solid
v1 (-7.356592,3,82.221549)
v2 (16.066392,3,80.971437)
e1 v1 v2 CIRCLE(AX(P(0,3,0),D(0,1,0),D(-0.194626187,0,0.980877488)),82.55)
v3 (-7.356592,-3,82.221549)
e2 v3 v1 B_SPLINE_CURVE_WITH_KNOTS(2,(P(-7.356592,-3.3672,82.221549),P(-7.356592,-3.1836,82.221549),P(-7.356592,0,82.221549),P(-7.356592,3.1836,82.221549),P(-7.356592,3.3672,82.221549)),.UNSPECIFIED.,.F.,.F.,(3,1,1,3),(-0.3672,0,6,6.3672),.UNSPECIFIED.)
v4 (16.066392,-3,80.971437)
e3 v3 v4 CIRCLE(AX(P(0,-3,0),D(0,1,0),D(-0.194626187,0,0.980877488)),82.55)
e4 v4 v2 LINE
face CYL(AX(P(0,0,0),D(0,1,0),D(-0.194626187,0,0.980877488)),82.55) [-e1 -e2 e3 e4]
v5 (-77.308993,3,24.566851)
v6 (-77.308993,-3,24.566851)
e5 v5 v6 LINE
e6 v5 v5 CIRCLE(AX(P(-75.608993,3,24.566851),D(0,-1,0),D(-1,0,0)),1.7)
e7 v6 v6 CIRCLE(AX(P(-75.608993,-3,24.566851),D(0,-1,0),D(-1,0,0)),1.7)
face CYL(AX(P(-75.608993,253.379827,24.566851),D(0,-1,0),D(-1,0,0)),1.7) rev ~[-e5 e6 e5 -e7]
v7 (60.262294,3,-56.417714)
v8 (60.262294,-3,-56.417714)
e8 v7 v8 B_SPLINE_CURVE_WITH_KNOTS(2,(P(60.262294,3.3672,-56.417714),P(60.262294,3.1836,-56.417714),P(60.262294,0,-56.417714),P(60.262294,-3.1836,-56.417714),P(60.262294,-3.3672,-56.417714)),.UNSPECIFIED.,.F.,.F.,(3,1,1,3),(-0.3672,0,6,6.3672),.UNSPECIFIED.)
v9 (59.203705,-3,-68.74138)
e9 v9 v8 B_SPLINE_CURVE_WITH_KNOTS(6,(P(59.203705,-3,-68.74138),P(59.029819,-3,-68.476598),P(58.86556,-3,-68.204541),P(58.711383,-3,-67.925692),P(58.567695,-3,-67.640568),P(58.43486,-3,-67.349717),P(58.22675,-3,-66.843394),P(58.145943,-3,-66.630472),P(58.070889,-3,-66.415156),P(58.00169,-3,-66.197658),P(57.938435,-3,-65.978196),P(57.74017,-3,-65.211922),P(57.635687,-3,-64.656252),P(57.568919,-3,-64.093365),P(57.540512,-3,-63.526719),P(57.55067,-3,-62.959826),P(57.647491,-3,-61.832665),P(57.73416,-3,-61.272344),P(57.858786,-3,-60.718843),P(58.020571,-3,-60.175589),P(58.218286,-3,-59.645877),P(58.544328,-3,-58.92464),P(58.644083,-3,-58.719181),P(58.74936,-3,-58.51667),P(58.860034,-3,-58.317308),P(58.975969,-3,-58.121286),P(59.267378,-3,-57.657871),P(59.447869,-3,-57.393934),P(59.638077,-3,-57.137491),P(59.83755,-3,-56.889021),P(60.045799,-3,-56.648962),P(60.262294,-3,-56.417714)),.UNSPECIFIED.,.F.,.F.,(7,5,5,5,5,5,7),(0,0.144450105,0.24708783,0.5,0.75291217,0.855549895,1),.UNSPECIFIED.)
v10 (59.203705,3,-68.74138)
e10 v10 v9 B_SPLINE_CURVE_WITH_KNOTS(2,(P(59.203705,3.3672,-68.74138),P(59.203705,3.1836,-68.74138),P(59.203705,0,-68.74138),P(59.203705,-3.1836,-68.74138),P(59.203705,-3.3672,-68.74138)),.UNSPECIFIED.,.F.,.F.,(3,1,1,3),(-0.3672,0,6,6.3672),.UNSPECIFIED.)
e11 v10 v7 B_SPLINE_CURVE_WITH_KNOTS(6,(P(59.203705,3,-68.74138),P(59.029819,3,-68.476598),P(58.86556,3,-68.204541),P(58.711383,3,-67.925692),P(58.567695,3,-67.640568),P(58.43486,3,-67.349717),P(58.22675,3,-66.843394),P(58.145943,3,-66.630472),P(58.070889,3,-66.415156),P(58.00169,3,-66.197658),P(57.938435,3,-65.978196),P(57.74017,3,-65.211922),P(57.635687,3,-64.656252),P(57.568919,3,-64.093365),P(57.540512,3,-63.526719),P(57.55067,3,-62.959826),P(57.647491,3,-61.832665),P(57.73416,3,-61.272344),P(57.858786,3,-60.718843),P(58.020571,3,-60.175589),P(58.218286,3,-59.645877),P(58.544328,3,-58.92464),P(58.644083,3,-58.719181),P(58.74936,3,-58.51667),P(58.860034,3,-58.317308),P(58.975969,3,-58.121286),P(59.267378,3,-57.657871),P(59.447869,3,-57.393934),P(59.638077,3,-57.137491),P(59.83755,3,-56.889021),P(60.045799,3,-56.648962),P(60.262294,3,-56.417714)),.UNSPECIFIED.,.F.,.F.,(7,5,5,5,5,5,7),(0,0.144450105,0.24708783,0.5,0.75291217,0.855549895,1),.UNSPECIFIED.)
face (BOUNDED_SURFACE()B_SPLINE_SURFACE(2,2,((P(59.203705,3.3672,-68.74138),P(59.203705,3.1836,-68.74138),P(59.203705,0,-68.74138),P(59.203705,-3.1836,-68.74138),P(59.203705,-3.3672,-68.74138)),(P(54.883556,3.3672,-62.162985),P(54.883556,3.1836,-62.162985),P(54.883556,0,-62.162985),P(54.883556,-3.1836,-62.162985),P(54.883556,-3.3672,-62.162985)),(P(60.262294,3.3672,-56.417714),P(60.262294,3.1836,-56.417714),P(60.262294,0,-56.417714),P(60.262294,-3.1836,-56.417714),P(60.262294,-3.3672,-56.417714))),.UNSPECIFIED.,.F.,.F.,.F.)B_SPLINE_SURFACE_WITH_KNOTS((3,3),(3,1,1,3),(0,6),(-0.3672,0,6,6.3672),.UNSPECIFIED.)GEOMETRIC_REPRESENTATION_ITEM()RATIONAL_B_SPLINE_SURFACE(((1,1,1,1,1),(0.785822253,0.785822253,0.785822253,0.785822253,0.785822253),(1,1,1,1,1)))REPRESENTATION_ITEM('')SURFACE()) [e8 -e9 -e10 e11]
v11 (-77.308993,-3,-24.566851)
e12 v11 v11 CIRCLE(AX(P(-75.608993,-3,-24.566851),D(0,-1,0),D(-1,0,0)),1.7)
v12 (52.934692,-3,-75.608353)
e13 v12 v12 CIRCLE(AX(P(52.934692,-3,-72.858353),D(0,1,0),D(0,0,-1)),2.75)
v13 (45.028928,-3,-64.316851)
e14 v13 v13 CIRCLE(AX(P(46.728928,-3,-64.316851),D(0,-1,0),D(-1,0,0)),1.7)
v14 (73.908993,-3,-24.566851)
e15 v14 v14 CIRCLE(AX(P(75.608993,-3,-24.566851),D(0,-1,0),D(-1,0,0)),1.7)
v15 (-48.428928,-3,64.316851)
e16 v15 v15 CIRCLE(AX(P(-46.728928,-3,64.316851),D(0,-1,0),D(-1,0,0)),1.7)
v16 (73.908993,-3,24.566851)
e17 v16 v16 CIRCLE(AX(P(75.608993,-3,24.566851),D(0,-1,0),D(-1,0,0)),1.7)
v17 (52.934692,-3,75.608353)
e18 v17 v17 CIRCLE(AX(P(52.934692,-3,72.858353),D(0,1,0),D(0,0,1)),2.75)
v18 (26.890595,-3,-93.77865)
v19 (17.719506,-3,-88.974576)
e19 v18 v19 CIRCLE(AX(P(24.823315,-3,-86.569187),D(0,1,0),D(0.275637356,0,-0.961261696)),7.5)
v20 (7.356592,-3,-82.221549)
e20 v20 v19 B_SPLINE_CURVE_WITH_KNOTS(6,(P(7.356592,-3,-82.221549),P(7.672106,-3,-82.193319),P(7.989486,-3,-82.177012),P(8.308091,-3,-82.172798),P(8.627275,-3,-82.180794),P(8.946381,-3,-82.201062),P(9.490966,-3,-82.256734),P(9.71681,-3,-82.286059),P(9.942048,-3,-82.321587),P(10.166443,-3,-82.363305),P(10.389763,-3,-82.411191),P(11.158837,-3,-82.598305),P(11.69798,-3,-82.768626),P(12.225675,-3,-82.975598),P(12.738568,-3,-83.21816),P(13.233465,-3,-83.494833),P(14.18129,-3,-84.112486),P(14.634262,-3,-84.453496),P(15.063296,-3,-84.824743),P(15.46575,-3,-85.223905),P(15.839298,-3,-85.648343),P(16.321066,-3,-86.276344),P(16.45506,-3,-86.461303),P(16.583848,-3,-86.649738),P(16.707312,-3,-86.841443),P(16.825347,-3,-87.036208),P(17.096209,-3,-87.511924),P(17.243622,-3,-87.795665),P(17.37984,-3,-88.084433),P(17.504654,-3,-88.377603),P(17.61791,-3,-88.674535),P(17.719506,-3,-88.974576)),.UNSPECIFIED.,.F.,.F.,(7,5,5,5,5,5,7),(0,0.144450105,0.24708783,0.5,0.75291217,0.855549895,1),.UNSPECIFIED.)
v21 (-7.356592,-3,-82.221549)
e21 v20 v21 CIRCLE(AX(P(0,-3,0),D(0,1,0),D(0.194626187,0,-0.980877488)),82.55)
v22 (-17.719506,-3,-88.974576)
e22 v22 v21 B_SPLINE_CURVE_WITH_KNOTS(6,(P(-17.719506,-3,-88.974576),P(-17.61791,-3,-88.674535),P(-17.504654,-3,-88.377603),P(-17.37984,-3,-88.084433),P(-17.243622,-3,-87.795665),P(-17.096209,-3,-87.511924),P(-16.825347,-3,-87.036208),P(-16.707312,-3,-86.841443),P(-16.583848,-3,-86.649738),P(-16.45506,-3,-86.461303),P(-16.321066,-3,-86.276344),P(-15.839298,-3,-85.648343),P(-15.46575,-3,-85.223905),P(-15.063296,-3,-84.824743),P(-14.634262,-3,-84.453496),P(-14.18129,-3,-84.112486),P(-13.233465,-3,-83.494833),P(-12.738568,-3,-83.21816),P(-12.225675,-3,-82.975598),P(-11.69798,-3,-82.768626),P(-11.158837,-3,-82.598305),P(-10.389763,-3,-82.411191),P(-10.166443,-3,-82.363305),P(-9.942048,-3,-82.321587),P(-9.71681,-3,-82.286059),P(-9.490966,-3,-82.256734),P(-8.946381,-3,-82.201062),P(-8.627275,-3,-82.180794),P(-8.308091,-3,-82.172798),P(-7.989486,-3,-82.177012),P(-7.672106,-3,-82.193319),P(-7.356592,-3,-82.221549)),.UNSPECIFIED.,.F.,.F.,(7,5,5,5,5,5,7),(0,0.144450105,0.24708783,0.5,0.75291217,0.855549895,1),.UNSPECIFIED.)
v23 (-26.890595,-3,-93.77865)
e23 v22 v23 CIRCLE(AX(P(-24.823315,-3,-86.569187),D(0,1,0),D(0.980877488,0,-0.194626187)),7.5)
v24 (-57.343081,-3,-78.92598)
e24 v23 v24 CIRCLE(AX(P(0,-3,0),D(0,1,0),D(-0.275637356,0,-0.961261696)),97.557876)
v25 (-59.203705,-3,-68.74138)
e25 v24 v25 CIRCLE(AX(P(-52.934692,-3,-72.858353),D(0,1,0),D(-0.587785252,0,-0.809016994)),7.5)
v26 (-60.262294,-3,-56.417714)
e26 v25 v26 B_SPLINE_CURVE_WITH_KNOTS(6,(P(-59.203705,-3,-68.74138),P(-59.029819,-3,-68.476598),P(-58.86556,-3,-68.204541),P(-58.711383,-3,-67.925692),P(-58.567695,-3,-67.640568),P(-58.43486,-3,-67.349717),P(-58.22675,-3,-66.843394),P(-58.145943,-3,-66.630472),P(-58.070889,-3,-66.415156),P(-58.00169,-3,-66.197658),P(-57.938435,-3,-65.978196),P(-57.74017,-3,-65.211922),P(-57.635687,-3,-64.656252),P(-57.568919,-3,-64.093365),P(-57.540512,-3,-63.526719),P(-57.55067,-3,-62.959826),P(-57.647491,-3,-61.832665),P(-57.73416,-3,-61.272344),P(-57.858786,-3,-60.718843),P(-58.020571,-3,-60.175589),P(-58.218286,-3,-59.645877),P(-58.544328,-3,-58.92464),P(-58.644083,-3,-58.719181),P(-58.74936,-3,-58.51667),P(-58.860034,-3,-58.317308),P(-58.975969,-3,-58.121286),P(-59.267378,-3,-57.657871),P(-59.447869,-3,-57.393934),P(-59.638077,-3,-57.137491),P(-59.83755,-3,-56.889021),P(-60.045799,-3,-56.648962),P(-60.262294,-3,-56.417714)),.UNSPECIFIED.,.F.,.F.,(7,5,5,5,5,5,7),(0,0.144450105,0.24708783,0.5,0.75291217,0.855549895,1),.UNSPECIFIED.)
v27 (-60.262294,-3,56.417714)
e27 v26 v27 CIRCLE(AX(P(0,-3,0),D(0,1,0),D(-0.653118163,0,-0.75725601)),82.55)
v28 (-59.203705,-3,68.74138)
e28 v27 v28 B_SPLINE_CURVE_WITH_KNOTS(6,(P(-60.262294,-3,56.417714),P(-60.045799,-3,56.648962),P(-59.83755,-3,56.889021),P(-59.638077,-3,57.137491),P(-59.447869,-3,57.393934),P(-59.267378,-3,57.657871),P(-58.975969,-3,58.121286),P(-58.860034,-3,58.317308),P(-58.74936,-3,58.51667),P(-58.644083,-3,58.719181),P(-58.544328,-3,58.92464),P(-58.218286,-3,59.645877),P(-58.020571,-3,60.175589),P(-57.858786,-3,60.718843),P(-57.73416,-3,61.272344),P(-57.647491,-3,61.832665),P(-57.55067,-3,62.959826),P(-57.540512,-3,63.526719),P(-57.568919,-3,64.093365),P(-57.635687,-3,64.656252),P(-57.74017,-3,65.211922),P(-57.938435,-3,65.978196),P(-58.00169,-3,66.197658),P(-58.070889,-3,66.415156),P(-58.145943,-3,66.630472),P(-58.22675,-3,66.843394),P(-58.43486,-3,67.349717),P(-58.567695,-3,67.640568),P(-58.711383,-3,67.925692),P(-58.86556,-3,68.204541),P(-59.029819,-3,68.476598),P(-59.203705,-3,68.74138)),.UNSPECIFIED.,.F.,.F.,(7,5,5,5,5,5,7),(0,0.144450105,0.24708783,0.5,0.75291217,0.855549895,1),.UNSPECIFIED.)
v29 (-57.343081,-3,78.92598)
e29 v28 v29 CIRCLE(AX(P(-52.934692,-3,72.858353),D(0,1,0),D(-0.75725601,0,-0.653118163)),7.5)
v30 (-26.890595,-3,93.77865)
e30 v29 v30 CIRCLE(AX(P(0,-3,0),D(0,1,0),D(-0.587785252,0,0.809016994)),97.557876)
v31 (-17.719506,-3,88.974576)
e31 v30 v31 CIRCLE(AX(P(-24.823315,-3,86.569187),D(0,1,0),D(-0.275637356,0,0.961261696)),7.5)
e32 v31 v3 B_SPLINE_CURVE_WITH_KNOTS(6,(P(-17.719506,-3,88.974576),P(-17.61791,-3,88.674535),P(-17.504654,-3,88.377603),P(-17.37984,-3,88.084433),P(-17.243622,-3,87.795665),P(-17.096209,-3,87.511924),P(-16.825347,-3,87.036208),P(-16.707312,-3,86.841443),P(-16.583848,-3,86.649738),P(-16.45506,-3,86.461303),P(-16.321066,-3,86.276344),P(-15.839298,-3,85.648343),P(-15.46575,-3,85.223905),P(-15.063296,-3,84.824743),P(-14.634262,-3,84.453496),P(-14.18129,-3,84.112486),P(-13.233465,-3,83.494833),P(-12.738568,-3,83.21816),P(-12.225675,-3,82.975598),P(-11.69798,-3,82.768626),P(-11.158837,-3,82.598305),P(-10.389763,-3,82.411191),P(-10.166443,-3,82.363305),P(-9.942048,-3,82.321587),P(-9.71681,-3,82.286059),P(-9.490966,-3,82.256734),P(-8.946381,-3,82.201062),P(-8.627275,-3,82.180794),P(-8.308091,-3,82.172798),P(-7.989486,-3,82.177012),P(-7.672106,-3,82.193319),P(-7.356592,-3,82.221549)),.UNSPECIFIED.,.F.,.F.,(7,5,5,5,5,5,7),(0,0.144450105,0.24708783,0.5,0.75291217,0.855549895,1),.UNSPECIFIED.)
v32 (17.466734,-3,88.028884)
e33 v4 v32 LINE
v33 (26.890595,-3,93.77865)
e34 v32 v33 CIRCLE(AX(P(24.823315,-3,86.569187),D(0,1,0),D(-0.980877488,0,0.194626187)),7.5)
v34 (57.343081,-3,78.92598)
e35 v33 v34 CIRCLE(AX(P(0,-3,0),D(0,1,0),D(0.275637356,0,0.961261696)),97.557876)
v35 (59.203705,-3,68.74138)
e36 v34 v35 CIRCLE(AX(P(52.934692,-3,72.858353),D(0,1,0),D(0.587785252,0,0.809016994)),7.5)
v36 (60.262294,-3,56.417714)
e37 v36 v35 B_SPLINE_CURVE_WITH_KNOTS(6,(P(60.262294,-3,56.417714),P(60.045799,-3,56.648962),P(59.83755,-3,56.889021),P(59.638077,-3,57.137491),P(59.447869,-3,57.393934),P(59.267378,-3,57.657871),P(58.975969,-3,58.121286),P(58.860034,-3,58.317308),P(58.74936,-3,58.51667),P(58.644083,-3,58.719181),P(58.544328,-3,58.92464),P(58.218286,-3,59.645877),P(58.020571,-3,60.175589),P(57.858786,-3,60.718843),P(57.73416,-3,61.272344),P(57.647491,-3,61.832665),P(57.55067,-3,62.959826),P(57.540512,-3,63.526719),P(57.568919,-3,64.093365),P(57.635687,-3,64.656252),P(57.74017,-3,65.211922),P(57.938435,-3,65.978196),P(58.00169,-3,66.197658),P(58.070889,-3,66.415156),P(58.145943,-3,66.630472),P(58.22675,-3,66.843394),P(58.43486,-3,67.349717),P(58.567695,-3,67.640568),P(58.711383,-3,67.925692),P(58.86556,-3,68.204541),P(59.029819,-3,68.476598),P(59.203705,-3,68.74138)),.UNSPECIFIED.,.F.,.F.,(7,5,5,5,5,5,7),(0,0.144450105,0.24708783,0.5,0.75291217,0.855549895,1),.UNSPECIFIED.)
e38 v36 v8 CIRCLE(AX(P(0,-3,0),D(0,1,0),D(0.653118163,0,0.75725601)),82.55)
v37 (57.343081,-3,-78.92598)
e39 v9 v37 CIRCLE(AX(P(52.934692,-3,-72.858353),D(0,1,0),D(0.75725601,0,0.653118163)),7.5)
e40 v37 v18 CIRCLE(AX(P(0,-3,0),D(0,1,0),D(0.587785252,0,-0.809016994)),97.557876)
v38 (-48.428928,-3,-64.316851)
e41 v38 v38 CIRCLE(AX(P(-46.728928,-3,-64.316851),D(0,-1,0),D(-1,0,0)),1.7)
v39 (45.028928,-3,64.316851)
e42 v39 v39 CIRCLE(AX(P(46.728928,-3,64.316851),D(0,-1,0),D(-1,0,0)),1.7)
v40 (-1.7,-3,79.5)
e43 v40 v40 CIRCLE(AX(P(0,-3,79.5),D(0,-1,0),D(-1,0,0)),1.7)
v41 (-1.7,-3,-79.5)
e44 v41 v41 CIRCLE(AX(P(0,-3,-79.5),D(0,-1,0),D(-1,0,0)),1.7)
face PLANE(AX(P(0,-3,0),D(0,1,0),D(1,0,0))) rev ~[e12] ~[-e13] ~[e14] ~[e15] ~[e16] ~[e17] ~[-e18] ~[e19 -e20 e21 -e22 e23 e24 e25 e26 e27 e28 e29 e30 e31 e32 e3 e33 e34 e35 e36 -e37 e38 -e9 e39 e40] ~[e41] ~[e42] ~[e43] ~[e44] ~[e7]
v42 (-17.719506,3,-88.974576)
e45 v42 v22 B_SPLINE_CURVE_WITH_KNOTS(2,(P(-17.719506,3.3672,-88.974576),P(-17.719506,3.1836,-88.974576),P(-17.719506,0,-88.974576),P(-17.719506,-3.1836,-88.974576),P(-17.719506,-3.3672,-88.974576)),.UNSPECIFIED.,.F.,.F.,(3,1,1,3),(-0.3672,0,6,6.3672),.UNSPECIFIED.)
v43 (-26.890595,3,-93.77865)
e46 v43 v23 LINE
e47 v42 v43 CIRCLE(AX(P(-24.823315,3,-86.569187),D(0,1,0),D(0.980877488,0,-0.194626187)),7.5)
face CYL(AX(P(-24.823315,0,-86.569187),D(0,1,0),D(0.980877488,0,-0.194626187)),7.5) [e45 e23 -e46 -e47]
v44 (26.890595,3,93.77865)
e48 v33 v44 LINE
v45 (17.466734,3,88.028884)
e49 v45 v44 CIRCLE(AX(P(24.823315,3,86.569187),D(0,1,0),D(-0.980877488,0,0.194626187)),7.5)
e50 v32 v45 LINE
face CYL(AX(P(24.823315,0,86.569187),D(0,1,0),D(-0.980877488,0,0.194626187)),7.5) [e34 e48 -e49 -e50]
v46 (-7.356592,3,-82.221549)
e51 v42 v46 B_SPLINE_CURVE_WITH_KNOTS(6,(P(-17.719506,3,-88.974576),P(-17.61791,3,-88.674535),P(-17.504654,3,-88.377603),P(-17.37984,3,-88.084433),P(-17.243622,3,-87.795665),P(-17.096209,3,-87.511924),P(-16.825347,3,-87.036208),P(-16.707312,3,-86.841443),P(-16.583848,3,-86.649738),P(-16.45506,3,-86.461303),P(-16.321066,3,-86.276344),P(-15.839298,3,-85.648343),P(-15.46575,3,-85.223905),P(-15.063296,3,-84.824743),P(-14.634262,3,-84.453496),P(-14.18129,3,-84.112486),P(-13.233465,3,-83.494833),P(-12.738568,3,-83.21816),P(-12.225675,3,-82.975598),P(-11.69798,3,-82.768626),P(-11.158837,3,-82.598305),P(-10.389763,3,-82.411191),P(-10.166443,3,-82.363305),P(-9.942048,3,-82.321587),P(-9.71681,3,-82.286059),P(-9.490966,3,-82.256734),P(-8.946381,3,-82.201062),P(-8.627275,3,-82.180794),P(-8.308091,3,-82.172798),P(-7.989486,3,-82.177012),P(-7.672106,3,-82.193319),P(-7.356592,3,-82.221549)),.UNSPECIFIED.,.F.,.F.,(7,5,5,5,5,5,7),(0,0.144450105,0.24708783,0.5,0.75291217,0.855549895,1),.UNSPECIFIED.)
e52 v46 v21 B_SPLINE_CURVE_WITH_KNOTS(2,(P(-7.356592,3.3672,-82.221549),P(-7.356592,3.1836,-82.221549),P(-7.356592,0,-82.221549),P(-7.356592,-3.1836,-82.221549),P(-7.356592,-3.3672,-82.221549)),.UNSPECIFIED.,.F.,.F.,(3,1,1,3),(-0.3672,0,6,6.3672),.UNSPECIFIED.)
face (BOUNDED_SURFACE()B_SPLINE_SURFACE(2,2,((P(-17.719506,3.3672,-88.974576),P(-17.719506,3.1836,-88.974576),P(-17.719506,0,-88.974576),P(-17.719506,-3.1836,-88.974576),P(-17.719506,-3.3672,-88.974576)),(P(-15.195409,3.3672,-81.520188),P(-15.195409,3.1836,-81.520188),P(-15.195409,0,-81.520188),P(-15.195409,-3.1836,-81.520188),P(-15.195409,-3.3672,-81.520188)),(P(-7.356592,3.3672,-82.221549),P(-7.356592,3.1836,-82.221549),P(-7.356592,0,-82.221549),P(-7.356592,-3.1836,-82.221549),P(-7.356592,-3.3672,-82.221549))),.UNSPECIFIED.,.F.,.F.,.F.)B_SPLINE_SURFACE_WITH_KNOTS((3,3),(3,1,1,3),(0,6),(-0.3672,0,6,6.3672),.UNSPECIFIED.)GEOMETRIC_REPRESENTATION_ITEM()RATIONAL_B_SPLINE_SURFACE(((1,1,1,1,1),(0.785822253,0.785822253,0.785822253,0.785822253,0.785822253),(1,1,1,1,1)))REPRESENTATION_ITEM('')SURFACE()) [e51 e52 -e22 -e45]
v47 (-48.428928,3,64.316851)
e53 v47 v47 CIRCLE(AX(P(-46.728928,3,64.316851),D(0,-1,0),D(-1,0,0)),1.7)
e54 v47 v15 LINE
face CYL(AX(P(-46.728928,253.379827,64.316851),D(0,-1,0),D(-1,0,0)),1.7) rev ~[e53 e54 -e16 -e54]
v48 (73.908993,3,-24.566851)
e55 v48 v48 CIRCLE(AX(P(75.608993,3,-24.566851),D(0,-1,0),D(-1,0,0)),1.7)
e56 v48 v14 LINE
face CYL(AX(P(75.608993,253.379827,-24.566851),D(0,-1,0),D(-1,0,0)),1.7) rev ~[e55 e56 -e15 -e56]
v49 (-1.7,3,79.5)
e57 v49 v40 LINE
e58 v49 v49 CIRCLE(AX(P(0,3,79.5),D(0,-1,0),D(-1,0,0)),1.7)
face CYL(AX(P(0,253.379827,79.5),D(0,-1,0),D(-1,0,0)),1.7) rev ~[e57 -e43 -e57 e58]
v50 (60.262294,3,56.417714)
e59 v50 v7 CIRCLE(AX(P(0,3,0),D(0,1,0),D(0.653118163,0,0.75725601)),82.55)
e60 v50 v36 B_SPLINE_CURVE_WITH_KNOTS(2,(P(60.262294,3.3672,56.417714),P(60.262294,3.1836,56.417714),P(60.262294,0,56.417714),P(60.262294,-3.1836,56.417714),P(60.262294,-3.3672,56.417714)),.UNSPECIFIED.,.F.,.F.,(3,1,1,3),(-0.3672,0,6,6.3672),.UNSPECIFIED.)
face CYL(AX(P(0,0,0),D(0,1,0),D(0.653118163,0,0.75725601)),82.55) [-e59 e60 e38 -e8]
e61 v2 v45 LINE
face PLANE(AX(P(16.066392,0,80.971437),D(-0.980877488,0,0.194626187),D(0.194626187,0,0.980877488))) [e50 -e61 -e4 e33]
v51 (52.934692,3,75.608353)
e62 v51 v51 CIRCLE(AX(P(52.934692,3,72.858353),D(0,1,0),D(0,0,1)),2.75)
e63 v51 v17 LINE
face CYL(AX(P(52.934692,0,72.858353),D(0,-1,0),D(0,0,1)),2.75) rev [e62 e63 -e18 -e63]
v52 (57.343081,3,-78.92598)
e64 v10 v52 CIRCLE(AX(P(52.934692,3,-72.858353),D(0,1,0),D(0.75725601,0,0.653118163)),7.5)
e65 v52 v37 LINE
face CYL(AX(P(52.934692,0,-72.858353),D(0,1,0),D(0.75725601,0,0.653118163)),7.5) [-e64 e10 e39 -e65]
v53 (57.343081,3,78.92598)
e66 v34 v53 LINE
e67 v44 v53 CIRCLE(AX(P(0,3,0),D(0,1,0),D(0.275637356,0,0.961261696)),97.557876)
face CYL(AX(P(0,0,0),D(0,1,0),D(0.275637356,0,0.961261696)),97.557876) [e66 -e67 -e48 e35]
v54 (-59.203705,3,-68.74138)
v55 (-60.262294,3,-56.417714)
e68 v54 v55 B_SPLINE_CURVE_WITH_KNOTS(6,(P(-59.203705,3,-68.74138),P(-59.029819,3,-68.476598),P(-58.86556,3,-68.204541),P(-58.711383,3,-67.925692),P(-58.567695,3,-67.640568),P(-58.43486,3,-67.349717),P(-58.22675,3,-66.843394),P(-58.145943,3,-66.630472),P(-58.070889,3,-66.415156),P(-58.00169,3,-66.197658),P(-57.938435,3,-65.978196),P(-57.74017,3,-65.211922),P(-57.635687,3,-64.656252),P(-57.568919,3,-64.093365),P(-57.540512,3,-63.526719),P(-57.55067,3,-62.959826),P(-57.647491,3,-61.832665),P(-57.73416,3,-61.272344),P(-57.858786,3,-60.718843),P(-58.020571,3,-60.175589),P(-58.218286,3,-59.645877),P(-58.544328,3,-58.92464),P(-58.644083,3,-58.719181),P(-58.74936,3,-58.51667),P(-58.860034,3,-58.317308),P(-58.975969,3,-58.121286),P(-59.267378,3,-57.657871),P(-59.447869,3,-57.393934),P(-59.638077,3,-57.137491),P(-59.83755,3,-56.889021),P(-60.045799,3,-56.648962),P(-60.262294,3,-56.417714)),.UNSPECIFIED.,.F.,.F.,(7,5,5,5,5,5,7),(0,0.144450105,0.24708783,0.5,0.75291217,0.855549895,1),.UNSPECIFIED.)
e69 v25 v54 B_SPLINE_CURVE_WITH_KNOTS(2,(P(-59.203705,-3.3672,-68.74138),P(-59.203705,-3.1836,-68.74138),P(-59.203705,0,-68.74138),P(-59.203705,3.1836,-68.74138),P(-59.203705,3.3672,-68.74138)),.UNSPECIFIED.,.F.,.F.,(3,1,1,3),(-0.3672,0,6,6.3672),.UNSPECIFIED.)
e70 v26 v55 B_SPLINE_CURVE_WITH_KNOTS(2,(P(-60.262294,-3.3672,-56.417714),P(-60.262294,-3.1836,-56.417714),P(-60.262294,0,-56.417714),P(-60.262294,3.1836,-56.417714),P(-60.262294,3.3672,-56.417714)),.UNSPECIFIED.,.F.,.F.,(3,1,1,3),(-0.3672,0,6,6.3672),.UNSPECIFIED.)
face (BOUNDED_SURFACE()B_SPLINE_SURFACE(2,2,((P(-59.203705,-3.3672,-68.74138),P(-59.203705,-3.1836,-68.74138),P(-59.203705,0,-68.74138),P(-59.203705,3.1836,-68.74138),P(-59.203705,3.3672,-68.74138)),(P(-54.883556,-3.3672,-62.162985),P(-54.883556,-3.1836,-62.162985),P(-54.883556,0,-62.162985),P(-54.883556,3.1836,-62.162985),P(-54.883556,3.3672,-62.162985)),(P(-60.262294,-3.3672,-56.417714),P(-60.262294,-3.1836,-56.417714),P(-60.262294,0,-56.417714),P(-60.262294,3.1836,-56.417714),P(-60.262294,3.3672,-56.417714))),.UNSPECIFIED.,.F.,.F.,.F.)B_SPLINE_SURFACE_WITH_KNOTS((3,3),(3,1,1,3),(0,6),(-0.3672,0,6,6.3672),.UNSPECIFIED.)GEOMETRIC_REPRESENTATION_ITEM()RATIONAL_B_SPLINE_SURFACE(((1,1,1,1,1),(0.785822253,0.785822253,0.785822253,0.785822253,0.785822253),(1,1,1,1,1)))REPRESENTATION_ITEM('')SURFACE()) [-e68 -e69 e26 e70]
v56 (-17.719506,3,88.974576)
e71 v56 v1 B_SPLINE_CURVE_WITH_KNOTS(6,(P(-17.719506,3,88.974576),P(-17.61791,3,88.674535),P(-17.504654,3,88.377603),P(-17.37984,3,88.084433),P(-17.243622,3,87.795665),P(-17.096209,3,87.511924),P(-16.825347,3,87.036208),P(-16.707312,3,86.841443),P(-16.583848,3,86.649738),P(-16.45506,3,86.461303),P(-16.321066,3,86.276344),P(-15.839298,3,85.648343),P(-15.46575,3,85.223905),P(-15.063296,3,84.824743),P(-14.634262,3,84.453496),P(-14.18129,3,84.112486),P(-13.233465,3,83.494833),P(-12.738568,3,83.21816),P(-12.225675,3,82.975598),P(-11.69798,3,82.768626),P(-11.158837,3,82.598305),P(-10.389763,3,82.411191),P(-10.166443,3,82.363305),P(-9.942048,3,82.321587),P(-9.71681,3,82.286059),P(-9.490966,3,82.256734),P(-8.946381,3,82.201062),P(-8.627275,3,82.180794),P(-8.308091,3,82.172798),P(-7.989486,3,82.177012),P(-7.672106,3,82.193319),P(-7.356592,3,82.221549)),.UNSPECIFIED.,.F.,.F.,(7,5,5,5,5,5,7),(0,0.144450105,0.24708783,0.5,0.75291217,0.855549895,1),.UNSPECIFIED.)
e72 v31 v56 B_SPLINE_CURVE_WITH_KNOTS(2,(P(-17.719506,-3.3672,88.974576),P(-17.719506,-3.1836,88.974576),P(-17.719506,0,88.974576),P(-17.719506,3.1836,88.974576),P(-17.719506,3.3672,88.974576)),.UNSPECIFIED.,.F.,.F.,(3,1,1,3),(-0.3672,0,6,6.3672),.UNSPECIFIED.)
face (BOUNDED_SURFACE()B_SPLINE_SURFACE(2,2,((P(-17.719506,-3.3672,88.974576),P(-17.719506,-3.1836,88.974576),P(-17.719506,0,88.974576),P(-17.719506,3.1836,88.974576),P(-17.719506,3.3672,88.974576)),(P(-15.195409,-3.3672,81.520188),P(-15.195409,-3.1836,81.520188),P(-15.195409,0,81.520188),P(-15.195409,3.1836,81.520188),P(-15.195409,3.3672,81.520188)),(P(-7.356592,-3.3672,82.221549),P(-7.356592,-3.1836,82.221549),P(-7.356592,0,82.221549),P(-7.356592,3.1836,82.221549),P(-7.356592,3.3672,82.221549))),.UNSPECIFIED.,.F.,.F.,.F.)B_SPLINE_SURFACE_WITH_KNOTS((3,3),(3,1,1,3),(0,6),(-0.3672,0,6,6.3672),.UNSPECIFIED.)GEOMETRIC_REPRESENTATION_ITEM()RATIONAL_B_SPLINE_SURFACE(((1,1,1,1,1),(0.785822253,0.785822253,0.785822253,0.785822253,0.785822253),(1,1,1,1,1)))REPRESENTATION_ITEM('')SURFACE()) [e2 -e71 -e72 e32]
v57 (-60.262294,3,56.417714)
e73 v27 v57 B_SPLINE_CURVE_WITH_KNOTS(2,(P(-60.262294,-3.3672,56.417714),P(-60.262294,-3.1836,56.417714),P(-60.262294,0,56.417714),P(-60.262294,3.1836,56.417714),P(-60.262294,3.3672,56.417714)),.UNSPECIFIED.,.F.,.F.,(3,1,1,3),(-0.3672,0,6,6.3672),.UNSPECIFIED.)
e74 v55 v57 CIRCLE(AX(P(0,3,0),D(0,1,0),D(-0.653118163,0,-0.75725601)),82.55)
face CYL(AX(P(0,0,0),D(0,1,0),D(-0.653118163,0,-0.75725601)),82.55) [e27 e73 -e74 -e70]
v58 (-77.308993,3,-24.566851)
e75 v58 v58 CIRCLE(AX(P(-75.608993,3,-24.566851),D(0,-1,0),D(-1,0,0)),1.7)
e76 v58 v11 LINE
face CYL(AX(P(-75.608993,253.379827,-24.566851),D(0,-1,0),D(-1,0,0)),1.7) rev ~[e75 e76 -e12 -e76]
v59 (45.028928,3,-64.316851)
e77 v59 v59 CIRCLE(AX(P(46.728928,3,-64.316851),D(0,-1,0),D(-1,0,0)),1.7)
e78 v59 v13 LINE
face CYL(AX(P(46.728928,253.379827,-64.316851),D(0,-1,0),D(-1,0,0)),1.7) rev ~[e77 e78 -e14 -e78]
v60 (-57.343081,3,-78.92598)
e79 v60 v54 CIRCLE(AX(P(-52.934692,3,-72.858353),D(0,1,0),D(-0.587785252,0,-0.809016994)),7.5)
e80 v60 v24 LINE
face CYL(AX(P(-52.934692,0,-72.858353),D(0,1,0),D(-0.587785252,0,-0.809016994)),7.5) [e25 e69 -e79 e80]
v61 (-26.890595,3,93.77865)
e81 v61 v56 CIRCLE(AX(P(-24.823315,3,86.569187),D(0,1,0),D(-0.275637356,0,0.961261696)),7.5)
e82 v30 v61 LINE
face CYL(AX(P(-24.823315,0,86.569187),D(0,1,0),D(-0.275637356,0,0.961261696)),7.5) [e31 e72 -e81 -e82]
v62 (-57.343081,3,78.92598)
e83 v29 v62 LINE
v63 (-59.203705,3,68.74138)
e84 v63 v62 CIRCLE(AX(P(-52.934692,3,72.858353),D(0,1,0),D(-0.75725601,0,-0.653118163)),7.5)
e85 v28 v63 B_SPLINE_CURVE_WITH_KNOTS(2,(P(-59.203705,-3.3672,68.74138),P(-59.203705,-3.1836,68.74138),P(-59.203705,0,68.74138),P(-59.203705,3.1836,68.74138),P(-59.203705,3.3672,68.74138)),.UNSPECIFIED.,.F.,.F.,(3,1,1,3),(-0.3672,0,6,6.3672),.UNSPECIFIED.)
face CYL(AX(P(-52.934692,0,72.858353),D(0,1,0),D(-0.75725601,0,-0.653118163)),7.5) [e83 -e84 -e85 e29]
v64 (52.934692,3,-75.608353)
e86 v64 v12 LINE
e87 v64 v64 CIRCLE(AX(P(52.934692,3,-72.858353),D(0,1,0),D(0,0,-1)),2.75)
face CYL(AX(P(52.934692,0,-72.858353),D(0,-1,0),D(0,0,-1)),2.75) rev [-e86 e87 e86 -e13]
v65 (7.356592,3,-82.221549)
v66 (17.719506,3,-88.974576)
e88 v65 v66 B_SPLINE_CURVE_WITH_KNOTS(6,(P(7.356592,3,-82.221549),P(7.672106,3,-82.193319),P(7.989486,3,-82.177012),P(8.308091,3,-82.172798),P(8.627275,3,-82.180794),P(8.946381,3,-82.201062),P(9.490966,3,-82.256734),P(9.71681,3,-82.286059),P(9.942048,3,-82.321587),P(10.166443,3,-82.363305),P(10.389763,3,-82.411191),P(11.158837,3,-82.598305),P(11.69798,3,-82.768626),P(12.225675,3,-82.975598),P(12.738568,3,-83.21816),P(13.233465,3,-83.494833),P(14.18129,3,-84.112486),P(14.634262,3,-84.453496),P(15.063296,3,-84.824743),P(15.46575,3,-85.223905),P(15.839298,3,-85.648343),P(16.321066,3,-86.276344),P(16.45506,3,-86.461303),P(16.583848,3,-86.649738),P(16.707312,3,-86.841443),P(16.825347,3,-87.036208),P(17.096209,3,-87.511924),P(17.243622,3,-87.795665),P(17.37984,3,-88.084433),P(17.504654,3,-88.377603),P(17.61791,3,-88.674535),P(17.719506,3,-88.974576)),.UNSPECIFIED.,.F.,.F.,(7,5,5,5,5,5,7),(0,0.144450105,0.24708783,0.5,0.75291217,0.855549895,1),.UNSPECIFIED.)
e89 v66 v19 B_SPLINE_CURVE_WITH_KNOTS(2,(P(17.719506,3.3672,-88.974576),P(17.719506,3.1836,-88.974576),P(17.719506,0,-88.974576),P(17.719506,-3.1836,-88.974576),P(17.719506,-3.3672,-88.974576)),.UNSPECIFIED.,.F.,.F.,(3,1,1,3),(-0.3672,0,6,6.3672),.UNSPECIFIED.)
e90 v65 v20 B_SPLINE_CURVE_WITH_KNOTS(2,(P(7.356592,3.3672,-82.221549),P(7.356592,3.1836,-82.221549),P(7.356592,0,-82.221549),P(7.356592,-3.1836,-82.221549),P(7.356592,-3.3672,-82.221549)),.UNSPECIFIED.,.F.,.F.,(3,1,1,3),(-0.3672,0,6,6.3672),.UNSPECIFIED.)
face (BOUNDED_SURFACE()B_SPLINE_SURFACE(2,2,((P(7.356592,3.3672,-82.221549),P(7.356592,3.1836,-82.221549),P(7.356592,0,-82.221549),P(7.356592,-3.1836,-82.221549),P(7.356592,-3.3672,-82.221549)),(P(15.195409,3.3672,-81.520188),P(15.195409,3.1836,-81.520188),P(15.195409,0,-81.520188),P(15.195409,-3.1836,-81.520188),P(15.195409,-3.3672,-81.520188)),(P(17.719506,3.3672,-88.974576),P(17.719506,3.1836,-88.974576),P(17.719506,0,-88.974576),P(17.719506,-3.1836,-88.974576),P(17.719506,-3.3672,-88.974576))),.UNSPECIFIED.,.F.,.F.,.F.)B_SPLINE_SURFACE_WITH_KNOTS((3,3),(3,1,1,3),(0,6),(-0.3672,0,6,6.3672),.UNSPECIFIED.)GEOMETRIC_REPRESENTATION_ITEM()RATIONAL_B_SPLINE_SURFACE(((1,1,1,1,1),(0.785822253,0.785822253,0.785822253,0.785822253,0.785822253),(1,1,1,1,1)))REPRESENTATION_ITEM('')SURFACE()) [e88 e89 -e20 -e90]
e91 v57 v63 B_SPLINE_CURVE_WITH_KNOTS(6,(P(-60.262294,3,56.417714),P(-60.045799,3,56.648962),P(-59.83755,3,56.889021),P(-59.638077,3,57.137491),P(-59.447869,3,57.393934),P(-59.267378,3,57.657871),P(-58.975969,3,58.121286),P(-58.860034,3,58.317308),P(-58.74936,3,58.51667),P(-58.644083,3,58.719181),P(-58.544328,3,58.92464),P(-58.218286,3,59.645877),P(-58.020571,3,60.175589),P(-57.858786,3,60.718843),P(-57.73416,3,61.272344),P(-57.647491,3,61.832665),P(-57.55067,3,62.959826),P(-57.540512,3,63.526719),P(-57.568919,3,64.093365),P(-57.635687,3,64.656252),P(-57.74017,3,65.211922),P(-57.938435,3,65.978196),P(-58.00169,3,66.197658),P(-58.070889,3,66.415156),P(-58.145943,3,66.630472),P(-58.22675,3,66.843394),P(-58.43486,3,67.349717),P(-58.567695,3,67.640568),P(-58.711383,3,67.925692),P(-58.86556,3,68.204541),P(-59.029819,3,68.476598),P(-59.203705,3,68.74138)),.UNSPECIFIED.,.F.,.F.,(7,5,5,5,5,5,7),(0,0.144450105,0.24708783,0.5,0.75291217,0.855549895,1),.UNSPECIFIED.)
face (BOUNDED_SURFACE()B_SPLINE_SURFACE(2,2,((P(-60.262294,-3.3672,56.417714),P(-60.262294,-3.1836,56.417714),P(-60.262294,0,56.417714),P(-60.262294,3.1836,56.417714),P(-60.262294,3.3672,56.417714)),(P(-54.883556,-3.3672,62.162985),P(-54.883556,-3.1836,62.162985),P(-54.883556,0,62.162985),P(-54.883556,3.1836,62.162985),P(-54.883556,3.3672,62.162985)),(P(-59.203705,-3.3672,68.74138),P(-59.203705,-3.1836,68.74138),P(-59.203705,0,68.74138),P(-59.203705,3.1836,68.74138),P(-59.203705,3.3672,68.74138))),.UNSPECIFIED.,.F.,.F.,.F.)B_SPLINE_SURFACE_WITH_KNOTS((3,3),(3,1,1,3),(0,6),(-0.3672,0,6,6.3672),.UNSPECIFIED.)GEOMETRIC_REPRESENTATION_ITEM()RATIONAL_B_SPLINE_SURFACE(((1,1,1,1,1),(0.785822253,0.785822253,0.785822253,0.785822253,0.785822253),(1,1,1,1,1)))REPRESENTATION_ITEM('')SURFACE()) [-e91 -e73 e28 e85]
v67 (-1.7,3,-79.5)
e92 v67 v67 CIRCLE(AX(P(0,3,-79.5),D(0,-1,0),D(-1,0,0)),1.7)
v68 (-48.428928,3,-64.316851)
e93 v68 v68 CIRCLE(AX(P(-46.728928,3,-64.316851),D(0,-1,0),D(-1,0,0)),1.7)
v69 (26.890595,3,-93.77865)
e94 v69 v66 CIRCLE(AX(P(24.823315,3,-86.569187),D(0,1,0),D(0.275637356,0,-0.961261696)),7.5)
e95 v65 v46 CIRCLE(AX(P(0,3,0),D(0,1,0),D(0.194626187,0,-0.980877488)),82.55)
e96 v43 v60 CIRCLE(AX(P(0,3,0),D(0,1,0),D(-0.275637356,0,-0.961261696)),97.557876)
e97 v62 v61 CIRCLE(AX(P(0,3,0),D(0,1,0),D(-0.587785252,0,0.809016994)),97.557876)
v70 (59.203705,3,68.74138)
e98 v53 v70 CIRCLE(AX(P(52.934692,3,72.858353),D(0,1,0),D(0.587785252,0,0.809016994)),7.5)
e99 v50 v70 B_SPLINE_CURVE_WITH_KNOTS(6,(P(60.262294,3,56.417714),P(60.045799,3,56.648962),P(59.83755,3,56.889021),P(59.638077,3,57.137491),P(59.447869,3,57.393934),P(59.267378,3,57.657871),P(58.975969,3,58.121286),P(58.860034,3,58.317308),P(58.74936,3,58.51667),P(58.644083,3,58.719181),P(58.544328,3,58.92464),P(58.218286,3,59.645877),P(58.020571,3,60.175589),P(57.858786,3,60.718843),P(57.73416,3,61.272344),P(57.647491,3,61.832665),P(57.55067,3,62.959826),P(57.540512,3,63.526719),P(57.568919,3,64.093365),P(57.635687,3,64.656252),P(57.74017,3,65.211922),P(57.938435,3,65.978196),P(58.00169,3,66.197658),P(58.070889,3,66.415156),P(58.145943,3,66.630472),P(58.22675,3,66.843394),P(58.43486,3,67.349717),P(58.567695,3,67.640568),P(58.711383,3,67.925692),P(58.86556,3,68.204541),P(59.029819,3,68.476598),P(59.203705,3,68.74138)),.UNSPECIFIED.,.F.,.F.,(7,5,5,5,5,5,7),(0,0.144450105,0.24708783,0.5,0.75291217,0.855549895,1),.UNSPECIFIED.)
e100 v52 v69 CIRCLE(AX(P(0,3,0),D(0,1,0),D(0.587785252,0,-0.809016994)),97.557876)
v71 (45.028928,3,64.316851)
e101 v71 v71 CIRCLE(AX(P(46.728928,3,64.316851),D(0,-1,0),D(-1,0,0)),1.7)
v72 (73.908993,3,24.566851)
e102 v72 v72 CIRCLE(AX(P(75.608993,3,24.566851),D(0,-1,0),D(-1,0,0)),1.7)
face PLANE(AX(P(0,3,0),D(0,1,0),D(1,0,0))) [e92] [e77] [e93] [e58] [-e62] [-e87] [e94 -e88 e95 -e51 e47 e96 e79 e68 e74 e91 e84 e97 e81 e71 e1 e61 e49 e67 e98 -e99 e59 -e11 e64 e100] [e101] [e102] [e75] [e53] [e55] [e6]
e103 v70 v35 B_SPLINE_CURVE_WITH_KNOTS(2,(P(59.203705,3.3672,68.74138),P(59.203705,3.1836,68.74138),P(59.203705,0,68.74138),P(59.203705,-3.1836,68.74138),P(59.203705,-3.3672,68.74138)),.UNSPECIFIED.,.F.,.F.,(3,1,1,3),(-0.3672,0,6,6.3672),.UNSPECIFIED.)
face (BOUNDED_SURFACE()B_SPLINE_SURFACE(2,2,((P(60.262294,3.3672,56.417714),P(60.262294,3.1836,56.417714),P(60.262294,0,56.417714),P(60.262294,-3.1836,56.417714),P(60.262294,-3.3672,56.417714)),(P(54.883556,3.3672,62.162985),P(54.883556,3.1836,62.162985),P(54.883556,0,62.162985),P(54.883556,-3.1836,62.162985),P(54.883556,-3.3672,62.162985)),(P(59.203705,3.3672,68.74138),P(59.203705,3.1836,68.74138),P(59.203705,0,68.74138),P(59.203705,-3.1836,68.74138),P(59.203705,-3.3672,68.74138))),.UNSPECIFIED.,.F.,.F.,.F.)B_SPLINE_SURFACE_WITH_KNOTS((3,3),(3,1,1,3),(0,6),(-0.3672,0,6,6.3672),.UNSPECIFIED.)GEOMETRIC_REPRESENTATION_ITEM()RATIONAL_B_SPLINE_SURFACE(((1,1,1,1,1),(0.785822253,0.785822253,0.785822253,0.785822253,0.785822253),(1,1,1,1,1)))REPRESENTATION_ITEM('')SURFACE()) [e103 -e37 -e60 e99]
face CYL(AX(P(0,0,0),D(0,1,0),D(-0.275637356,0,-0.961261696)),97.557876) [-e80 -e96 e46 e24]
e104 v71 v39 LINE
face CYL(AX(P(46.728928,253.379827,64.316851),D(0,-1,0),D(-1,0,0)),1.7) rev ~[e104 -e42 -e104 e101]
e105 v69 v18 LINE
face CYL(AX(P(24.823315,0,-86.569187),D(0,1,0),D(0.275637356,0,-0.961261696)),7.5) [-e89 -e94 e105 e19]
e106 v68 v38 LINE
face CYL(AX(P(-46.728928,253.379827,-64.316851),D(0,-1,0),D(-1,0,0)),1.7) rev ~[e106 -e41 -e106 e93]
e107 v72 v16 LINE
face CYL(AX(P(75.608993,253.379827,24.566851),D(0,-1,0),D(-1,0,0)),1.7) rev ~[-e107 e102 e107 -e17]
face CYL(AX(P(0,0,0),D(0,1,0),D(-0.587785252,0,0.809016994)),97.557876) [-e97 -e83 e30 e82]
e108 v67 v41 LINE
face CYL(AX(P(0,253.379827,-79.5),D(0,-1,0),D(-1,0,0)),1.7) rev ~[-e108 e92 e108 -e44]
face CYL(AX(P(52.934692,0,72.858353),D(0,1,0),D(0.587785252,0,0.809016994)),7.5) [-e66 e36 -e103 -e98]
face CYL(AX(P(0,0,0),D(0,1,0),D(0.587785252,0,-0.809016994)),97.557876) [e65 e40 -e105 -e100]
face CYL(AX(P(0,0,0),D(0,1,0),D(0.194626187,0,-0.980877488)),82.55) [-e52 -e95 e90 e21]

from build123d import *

# Parameters (mm, degrees)
SKETCH1_R            = 2.75
BOSS_EXTRUDE1_DEPTH  = 3
M3_CLEARANCE_HOLE1_D = 3.4
FILLET2_R            = 10


with BuildPart() as part:
    # Sketch1 → Boss-Extrude1 (new, symmetric)
    with BuildSketch(Plane(origin=(0, 0, 0), x_dir=(1, 0, 0), z_dir=(0, 1, 0))):
        with BuildLine():
            Line((-58.614111744, 67.959966353), (-53.914904373, 62.511483636))
            ThreePointArc((-53.914904373, 62.511483636), (-82.55, 0), (-53.914904373, -62.511483636))
            Line((-53.914904373, -62.511483636), (-58.614111744, -67.959966353))
            ThreePointArc((-58.614111744, -67.959966353), (-60.384815089, -73.721869234), (-57.34308106, -78.925980035))
            ThreePointArc((-57.34308106, -78.925980035), (-42.766558206, -87.684438581), (-26.890595122, -93.77864983))
            ThreePointArc((-26.890595122, -93.77864983), (-20.917021387, -92.971598421), (-17.46673379, -88.028883515))
            Line((-17.46673379, -88.028883515), (-16.066391761, -80.971436666))
            ThreePointArc((-16.066391761, -80.971436666), (0, -82.55), (16.066391761, -80.971436666))
            Line((16.066391761, -80.971436666), (17.46673379, -88.028883515))
            ThreePointArc((17.46673379, -88.028883515), (20.917021387, -92.971598421), (26.890595122, -93.77864983))
            ThreePointArc((26.890595122, -93.77864983), (42.766558206, -87.684438581), (57.34308106, -78.925980035))
            ThreePointArc((57.34308106, -78.925980035), (60.384815089, -73.721869234), (58.614111744, -67.959966353))
            Line((58.614111744, -67.959966353), (53.914904373, -62.511483636))
            ThreePointArc((53.914904373, -62.511483636), (82.55, 0), (53.914904373, 62.511483636))
            Line((53.914904373, 62.511483636), (58.614111744, 67.959966353))
            ThreePointArc((58.614111744, 67.959966353), (60.384815089, 73.721869234), (57.34308106, 78.925980035))
            ThreePointArc((57.34308106, 78.925980035), (42.766558206, 87.684438581), (26.890595122, 93.77864983))
            ThreePointArc((26.890595122, 93.77864983), (20.917021387, 92.971598421), (17.46673379, 88.028883515))
            Line((17.46673379, 88.028883515), (16.066391761, 80.971436666))
            ThreePointArc((16.066391761, 80.971436666), (0, 82.55), (-16.066391761, 80.971436666))
            Line((-16.066391761, 80.971436666), (-17.46673379, 88.028883515))
            ThreePointArc((-17.46673379, 88.028883515), (-20.917021387, 92.971598421), (-26.890595122, 93.77864983))
            ThreePointArc((-26.890595122, 93.77864983), (-42.766558206, 87.684438581), (-57.34308106, 78.925980035))
            ThreePointArc((-57.34308106, 78.925980035), (-60.384815089, 73.721869234), (-58.614111744, 67.959966353))
        make_face()
        with Locations(Location((52.934691668, -72.858352577, 0), (0, 0, 270))):
            Circle(SKETCH1_R, mode=Mode.SUBTRACT)
        with Locations(Location((52.934691668, 72.858352577, 0), (0, 0, 90))):
            Circle(SKETCH1_R, mode=Mode.SUBTRACT)
    extrude(amount=BOSS_EXTRUDE1_DEPTH, both=True)

    # M3 Clearance Hole1 (through all)
    with Locations(Plane(origin=(0, 3, 0), x_dir=(1, 0, 0), z_dir=(0, 1, 0))):
        with Locations((0, 79.5), (46.728927557, 64.316851053), (75.608993045, 24.566851053), (75.608993045, -24.566851053), (46.728927557, -64.316851053), (0, -79.5), (-46.728927557, -64.316851053), (-75.608993045, -24.566851053), (-75.608993045, 24.566851053), (-46.728927557, 64.316851053)):
            Hole(M3_CLEARANCE_HOLE1_D / 2)

    # Fillet2
    fillet2_edges = [part.edges().sort_by_distance(p)[0] for p in [
        (-53.914904373, 0, 62.511483636),
        (-53.914904373, 0, -62.511483636),
        (-16.066391761, 0, 80.971436666),
        (53.914904373, 0, 62.511483636),
        (53.914904373, 0, -62.511483636),
        (16.066391761, 0, -80.971436666),
        (-16.066391761, 0, -80.971436666),
    ]]
    fillet(fillet2_edges, radius=FILLET2_R)


solid = part.part
